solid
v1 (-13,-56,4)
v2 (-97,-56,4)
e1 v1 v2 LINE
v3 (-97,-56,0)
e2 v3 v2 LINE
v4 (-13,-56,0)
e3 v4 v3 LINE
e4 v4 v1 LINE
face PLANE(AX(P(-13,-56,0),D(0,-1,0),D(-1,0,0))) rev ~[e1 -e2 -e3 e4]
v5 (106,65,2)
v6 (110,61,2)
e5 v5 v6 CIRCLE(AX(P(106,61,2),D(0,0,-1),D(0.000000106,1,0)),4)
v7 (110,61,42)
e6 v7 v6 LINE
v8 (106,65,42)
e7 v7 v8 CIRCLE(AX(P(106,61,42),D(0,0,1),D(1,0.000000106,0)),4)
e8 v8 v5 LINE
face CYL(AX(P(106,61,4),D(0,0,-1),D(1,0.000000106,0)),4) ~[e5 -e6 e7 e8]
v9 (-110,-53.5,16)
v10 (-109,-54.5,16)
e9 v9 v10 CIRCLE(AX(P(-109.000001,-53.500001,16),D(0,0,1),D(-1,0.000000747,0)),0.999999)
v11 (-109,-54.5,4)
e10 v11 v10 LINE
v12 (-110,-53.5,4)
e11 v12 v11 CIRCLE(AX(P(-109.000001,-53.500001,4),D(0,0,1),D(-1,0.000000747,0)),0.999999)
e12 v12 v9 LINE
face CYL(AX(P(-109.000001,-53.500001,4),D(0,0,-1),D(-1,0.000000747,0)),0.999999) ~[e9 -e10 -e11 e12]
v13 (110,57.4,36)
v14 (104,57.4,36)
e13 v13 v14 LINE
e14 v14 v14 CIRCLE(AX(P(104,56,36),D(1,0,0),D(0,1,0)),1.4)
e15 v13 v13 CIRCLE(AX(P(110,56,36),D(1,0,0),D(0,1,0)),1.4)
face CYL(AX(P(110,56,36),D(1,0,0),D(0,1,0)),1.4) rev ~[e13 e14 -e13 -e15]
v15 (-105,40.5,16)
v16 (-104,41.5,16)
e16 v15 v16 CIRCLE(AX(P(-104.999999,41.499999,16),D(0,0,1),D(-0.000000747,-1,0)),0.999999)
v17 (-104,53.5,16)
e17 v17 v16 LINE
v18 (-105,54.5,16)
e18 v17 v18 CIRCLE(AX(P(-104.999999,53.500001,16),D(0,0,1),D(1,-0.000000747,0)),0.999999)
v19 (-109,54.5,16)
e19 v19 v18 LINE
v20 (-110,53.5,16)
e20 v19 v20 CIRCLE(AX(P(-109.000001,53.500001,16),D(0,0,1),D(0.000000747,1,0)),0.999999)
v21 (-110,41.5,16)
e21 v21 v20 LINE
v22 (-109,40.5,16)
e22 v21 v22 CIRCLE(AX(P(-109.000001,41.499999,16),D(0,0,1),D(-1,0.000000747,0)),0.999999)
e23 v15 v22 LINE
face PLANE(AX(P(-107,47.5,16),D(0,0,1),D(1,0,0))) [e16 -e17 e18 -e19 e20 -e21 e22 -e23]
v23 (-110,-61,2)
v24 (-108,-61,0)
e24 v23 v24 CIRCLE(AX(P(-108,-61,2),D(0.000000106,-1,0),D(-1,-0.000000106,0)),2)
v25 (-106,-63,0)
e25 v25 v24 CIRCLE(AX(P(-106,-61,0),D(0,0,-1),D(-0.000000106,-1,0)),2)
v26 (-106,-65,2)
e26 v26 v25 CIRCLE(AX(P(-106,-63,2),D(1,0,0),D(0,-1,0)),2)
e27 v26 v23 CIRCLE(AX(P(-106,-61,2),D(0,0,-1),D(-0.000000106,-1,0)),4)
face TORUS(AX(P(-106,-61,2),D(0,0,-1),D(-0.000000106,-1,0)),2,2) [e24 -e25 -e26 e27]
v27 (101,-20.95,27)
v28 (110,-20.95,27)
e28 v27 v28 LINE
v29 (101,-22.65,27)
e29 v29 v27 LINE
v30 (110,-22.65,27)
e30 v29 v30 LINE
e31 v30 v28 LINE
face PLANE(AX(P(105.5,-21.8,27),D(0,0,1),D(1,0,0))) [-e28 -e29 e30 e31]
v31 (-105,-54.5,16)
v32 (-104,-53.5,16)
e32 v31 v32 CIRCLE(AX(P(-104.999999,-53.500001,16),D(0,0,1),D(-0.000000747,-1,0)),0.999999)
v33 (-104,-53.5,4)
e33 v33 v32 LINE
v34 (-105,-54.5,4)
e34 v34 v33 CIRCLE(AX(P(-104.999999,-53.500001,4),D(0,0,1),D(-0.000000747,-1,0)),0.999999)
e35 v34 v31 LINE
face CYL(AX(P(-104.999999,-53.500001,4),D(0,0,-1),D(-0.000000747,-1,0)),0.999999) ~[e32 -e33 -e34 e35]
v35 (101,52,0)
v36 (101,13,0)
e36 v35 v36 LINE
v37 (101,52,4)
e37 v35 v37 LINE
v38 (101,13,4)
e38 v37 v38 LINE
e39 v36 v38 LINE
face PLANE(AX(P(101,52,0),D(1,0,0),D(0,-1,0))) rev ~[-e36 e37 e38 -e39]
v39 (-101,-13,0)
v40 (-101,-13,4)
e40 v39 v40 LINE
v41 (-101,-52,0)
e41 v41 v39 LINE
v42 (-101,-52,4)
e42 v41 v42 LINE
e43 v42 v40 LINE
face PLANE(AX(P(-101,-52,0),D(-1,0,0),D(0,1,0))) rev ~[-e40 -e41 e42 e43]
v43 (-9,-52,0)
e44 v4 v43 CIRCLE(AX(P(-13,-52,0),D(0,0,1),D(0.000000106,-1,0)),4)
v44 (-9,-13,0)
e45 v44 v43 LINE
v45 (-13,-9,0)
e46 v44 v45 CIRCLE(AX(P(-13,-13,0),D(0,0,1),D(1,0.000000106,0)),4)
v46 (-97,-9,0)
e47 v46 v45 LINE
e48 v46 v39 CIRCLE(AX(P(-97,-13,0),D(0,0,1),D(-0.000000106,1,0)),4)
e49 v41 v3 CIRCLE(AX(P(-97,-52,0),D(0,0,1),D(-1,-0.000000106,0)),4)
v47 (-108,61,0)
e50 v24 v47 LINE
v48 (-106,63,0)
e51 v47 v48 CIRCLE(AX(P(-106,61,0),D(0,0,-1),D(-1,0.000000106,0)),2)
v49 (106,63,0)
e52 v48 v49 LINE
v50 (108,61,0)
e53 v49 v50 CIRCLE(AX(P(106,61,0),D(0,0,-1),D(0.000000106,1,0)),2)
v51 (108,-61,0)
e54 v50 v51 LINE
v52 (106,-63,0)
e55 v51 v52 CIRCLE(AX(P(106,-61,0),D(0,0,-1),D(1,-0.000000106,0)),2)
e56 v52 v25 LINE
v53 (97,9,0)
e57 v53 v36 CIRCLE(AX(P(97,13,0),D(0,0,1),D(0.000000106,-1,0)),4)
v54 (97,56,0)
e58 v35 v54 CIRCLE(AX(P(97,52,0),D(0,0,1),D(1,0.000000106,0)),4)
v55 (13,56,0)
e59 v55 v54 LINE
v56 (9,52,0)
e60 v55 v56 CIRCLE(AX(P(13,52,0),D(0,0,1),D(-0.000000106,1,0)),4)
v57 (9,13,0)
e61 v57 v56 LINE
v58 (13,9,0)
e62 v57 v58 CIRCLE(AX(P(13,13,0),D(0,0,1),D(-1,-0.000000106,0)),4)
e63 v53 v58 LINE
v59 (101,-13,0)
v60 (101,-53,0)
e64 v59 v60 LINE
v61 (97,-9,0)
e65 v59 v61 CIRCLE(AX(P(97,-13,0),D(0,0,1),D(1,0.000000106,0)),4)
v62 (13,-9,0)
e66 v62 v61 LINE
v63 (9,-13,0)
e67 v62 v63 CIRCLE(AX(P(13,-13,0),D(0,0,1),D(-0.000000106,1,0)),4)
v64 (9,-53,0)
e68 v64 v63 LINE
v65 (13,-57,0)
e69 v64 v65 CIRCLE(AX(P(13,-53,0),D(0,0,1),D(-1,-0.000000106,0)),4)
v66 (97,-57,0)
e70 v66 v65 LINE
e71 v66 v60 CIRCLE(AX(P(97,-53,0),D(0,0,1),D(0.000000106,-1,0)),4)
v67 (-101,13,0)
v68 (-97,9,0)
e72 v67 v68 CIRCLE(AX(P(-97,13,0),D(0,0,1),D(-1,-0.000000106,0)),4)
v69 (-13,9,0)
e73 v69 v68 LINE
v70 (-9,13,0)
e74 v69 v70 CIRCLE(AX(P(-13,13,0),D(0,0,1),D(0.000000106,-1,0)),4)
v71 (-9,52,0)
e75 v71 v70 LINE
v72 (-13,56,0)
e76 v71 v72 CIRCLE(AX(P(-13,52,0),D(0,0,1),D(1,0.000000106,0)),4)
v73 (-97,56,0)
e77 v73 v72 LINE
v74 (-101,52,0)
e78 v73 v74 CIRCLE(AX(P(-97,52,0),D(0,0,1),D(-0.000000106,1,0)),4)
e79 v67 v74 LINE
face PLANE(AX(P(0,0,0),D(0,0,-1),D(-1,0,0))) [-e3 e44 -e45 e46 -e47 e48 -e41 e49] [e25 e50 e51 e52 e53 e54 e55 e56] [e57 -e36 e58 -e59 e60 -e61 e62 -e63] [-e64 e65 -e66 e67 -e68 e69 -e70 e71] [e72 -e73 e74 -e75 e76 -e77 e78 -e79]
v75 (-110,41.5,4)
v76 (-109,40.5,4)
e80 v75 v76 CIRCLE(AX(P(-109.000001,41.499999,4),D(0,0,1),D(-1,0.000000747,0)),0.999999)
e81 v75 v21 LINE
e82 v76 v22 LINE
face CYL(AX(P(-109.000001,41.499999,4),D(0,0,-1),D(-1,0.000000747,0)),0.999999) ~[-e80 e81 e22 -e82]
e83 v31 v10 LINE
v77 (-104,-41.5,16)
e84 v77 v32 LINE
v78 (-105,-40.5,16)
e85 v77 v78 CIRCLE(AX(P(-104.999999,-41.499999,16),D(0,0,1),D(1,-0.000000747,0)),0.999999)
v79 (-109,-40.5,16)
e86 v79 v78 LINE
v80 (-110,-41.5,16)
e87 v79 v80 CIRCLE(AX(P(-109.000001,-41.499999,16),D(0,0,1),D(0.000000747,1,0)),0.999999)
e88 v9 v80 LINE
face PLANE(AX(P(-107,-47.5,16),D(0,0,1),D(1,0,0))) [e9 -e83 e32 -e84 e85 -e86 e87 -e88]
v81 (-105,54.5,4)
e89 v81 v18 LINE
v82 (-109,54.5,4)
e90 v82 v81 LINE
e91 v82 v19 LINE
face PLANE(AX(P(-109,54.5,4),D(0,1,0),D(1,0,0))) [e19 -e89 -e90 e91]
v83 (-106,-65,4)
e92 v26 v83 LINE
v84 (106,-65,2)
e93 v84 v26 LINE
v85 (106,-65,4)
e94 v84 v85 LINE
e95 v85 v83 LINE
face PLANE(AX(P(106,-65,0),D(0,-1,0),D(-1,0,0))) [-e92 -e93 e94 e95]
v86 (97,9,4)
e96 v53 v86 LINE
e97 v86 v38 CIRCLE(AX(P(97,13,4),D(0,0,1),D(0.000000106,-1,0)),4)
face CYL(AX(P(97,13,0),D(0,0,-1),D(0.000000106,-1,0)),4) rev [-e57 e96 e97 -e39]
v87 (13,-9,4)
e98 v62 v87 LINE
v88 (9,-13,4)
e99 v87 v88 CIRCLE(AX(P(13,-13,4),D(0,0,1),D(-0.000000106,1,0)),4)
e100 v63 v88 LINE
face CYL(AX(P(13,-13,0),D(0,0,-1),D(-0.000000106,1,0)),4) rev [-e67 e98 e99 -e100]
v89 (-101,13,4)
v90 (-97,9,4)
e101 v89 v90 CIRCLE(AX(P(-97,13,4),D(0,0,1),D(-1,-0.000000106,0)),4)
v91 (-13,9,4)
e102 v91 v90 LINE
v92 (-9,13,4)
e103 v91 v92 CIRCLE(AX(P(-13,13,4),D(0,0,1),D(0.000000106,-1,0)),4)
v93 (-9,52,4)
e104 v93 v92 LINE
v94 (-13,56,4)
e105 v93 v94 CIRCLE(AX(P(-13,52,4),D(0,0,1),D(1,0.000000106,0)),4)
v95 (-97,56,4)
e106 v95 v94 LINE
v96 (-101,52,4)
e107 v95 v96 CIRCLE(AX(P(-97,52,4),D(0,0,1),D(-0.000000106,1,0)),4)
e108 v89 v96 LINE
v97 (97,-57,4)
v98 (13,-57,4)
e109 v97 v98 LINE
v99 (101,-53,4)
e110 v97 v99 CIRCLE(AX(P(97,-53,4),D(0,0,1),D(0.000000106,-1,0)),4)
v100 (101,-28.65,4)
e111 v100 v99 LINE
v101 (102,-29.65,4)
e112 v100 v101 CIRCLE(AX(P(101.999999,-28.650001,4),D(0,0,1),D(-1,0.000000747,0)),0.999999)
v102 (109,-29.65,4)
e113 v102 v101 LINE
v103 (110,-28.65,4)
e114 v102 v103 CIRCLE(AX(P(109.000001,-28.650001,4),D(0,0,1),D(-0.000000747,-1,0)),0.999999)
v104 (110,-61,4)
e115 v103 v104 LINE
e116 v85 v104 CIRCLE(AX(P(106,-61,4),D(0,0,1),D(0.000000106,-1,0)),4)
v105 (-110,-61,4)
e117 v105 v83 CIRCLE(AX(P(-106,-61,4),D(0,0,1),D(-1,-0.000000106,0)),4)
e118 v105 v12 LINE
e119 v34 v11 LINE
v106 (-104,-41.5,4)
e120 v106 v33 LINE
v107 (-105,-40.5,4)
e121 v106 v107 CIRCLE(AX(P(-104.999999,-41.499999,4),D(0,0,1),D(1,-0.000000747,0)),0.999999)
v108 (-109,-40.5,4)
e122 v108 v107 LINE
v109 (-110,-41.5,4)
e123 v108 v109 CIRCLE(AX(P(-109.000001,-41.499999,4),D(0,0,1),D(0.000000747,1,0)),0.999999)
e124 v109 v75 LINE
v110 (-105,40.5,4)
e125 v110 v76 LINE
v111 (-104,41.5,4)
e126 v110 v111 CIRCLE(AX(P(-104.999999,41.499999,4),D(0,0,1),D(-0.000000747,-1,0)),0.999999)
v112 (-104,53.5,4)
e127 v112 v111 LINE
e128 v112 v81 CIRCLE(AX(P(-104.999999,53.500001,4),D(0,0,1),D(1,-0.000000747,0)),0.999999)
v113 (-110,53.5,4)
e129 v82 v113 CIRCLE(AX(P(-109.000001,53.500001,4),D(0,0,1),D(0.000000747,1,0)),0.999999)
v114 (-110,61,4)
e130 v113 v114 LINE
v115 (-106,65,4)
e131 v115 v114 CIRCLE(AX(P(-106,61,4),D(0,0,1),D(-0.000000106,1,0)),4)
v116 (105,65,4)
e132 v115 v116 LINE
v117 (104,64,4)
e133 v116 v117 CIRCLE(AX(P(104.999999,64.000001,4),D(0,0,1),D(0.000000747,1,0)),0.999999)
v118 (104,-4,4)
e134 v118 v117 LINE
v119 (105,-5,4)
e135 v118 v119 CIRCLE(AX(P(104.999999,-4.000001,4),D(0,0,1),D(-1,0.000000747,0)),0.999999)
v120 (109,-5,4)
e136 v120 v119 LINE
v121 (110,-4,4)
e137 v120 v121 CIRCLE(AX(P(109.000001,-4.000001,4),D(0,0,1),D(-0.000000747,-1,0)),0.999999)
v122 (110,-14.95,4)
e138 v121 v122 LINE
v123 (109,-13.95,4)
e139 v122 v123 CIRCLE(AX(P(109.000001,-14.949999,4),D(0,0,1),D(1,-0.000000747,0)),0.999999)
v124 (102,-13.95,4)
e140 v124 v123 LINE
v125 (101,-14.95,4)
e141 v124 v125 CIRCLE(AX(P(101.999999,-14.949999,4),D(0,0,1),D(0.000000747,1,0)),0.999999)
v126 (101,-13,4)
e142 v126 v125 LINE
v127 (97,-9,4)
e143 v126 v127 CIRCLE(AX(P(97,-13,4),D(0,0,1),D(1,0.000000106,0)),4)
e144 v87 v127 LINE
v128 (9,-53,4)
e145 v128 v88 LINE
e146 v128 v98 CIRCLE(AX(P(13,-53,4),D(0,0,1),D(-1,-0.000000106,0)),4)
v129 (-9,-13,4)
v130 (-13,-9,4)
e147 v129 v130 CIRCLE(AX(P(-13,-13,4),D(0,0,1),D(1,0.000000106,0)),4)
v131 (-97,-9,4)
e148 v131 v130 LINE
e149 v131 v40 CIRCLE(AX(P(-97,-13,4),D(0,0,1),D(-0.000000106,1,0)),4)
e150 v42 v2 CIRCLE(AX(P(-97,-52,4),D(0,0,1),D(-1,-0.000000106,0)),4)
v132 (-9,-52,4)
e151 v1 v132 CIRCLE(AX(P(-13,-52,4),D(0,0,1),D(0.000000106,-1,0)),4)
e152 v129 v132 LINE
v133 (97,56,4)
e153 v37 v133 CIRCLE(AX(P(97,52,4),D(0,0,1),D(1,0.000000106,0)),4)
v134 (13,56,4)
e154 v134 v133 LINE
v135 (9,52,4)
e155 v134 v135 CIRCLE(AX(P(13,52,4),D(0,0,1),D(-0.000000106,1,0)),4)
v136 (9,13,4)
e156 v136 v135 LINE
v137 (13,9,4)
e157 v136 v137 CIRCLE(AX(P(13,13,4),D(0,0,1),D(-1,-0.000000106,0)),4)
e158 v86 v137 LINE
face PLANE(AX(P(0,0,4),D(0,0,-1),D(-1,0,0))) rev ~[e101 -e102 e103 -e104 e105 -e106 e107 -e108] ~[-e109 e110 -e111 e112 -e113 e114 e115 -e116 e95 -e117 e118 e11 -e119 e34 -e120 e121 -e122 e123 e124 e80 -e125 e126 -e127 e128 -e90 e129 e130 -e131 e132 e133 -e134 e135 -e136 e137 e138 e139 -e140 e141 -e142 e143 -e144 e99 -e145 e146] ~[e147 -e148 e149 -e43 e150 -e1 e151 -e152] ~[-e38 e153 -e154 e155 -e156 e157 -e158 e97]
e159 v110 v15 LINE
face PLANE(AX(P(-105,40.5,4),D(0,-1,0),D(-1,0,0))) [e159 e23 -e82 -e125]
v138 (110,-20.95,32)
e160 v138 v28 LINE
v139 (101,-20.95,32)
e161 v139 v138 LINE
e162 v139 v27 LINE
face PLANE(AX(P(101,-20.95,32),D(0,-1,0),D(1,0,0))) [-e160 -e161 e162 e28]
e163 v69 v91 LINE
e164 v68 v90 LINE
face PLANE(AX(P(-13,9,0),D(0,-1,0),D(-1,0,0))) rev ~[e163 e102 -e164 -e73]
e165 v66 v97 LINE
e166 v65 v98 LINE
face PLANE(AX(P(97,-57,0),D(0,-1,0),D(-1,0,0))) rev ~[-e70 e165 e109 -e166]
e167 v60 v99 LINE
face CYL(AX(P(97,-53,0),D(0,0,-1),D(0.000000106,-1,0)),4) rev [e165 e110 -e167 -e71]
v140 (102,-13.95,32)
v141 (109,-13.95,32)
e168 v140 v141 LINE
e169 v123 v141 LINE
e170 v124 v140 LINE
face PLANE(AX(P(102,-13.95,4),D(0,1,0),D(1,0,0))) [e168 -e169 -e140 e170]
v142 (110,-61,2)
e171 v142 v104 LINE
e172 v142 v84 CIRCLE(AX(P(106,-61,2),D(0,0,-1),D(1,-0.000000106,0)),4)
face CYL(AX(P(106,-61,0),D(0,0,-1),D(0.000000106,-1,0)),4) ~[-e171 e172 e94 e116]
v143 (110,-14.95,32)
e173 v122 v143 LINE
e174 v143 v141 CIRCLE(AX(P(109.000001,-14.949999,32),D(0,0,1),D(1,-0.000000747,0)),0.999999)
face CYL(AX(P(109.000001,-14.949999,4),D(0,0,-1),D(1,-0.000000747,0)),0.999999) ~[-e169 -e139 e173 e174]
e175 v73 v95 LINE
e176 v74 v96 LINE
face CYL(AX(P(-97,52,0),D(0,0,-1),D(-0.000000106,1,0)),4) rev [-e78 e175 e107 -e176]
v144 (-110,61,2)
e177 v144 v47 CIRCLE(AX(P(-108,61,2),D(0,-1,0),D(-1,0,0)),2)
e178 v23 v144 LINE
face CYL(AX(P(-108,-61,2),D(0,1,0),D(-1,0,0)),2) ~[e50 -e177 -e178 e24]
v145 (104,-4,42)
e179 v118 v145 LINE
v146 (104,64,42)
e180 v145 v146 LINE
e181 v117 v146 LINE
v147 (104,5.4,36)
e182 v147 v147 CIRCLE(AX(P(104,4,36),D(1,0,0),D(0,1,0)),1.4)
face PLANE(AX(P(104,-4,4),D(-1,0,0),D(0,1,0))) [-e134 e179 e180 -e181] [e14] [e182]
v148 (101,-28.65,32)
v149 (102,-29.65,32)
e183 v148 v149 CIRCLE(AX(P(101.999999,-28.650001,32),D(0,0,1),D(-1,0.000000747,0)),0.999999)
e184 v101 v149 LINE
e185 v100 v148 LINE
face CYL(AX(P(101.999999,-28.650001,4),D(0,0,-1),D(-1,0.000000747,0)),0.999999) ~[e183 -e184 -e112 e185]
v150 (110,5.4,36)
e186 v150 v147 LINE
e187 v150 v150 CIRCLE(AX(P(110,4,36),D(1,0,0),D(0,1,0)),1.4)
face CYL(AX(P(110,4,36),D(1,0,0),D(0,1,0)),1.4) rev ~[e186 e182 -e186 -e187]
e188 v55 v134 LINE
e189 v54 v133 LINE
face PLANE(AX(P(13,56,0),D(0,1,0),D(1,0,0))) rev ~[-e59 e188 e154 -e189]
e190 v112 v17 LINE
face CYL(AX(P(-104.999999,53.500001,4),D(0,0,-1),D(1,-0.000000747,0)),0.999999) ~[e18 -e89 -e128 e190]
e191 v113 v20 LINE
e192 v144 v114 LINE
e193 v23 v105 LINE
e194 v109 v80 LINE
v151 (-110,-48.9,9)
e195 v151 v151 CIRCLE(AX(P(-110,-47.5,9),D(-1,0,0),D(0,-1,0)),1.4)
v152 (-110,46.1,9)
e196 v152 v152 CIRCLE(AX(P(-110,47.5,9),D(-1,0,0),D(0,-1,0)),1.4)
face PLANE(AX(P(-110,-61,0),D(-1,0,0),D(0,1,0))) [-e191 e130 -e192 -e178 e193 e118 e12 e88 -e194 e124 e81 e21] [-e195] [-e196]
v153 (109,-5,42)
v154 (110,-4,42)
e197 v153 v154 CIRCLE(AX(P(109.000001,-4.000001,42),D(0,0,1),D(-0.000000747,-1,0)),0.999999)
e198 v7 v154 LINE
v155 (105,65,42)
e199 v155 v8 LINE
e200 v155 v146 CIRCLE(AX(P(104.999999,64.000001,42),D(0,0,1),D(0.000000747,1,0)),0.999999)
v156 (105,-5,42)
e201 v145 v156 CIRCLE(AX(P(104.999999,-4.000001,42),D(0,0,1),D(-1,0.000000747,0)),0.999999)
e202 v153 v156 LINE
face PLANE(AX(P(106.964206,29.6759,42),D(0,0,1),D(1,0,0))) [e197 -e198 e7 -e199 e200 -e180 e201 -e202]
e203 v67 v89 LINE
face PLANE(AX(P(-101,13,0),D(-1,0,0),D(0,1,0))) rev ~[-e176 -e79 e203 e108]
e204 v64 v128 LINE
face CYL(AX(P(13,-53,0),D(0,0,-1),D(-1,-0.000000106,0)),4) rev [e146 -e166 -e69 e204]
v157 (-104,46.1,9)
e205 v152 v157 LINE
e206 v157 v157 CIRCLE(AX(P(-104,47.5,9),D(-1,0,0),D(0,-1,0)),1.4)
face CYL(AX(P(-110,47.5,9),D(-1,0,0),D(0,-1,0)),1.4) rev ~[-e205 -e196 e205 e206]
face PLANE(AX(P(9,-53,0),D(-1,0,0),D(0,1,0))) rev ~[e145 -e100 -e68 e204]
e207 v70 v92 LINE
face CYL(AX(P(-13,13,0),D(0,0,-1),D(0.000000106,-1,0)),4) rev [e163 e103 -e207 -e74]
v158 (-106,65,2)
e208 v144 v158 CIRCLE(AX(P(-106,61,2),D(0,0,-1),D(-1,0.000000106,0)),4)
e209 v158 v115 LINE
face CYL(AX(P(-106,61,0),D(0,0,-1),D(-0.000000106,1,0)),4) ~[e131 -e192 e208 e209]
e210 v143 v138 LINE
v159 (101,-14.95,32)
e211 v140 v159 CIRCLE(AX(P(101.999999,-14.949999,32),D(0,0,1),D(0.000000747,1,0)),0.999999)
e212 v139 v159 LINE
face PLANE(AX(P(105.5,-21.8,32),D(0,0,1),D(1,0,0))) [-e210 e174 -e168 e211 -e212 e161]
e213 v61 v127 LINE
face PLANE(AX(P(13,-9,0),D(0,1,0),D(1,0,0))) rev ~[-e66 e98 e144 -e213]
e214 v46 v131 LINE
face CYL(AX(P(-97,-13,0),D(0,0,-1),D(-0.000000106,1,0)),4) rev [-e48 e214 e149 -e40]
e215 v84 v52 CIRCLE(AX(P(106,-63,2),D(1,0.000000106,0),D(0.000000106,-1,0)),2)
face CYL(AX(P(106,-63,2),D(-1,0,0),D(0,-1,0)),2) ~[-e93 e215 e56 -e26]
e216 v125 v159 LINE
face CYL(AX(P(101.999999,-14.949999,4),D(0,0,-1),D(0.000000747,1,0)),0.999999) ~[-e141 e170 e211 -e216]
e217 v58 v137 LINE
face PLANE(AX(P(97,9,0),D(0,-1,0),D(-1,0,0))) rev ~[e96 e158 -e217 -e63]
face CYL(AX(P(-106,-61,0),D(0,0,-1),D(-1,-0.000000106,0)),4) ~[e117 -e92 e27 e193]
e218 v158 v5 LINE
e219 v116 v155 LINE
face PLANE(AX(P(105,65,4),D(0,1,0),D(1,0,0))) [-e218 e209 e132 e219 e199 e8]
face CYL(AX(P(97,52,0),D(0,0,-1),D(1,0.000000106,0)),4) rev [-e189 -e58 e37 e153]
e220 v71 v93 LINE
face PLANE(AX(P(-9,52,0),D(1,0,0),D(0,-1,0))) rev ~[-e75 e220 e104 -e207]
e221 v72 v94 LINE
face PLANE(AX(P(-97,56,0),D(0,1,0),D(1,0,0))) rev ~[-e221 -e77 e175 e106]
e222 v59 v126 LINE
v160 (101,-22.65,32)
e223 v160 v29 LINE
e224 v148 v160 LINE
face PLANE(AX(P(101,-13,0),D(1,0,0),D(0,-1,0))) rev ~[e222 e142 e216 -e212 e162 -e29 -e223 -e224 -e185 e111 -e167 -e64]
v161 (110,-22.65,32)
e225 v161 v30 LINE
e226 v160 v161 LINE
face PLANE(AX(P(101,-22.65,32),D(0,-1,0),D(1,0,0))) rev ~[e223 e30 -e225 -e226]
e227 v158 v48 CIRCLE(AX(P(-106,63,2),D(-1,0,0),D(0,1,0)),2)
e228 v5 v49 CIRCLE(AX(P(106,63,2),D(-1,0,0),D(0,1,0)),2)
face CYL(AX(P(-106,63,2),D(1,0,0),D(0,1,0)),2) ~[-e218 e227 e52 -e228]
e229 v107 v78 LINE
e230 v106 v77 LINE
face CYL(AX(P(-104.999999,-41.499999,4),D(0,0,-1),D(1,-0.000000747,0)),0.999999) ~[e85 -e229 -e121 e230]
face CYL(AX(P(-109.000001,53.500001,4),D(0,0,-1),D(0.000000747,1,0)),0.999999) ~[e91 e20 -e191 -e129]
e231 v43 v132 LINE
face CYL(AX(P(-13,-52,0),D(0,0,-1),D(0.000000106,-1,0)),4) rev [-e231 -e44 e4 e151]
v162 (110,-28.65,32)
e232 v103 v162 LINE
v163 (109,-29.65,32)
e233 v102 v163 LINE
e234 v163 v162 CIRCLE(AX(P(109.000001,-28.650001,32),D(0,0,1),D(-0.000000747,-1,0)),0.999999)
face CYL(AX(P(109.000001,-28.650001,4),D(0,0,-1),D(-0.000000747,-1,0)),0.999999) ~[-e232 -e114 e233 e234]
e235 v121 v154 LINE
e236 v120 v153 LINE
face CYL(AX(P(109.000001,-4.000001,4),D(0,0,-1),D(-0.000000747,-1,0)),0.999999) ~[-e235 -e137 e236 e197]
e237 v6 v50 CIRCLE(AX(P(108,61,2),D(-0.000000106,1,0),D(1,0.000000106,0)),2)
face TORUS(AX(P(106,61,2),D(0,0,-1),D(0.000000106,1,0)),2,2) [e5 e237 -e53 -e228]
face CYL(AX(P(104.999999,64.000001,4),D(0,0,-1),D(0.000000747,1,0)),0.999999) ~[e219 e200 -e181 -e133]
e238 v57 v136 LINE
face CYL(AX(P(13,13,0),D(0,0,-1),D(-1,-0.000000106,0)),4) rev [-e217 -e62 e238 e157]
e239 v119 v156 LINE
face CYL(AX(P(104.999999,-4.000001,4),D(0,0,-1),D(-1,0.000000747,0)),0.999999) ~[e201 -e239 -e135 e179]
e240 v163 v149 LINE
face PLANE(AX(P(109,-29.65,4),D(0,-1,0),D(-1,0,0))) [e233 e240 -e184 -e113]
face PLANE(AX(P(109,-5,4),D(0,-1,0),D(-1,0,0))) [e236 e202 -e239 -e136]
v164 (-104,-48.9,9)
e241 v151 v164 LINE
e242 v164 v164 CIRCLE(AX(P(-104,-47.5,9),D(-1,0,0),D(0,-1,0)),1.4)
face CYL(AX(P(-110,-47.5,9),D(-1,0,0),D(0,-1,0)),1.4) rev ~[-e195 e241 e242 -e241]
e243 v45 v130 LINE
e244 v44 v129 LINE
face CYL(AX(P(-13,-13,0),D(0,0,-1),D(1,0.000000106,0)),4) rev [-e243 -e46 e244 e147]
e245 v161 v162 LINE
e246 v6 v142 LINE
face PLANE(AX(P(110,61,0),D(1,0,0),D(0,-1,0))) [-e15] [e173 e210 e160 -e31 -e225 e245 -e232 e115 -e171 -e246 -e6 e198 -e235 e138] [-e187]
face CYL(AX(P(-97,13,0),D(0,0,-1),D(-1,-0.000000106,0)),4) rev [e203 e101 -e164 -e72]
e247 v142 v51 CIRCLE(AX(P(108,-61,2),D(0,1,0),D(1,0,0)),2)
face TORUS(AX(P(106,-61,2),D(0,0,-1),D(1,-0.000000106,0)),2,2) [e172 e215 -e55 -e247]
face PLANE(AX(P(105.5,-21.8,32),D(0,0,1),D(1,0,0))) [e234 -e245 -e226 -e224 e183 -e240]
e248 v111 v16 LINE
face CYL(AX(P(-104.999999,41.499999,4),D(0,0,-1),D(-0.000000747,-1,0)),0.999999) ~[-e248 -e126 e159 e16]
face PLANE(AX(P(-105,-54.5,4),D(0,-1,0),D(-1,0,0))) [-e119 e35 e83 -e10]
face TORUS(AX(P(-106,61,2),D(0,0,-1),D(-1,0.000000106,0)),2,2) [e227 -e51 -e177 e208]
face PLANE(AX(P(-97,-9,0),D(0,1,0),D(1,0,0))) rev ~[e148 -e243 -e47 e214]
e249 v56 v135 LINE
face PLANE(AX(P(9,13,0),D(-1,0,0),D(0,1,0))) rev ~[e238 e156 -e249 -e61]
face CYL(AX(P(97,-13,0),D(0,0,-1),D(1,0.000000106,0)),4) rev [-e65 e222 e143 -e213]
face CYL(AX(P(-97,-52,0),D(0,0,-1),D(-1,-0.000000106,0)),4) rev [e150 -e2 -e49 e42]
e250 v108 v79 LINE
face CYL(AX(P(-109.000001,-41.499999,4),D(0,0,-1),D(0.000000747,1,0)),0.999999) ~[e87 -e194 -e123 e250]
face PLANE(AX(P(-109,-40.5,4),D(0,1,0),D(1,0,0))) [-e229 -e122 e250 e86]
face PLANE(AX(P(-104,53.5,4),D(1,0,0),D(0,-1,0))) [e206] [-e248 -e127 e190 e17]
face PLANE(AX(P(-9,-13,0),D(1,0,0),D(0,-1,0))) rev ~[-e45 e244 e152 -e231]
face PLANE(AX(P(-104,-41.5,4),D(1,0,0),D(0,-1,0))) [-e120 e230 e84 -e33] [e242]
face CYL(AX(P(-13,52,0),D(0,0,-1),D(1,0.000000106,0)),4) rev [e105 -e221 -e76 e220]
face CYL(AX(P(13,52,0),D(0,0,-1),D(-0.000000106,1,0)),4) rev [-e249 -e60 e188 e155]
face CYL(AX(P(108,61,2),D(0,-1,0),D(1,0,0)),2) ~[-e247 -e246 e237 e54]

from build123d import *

# Parameters (mm, degrees)
PAD_DEPTH       = 4
PAD001_DEPTH    = 38
SKETCH007_R     = 1.4
POCKET_DEPTH    = 8
PAD002_DEPTH    = 12
SKETCH009_R     = 1.4
POCKET001_DEPTH = 8
PAD003_DEPTH    = 28
SKETCH011_W     = 9
SKETCH011_H     = 1.7
POCKET002_DEPTH = 5
FILLET_R        = 2


with BuildPart() as part:
    # Sketch → Pad (new body)
    with BuildSketch(Plane.XY):
        with BuildLine():
            Line((-106, 65), (106, 65))
            ThreePointArc((110, 61), (108.828427, 63.828427), (106, 65))
            Line((110, 61), (110, -61))
            ThreePointArc((106, -65), (108.828427, -63.828427), (110, -61))
            Line((106, -65), (-106, -65))
            ThreePointArc((-110, -61), (-108.828427, -63.828427), (-106, -65))
            Line((-110, -61), (-110, 61))
            ThreePointArc((-106, 65), (-108.828427, 63.828427), (-110, 61))
        make_face()
        with BuildLine():
            ThreePointArc((13, -9), (10.171573, -10.171573), (9, -13))
            Line((9, -53), (9, -13))
            ThreePointArc((9, -53), (10.171573, -55.828427), (13, -57))
            Line((97, -57), (13, -57))
            ThreePointArc((97, -57), (99.828427, -55.828427), (101, -53))
            Line((101, -13), (101, -53))
            ThreePointArc((101, -13), (99.828427, -10.171573), (97, -9))
            Line((13, -9), (97, -9))
        make_face(mode=Mode.SUBTRACT)
        with BuildLine():
            ThreePointArc((13, 56), (10.171573, 54.828427), (9, 52))
            Line((9, 13), (9, 52))
            ThreePointArc((9, 13), (10.171573, 10.171573), (13, 9))
            Line((97, 9), (13, 9))
            ThreePointArc((97, 9), (99.828427, 10.171573), (101, 13))
            Line((101, 52), (101, 13))
            ThreePointArc((101, 52), (99.828427, 54.828427), (97, 56))
            Line((13, 56), (97, 56))
        make_face(mode=Mode.SUBTRACT)
        with BuildLine():
            ThreePointArc((-97, 56), (-99.828427, 54.828427), (-101, 52))
            Line((-101, 13), (-101, 52))
            ThreePointArc((-101, 13), (-99.828427, 10.171573), (-97, 9))
            Line((-13, 9), (-97, 9))
            ThreePointArc((-13, 9), (-10.171573, 10.171573), (-9, 13))
            Line((-9, 52), (-9, 13))
            ThreePointArc((-9, 52), (-10.171573, 54.828427), (-13, 56))
            Line((-97, 56), (-13, 56))
        make_face(mode=Mode.SUBTRACT)
        with BuildLine():
            ThreePointArc((-97, -9), (-99.828427, -10.171573), (-101, -13))
            Line((-101, -52), (-101, -13))
            ThreePointArc((-101, -52), (-99.828427, -54.828427), (-97, -56))
            Line((-13, -56), (-97, -56))
            ThreePointArc((-13, -56), (-10.171573, -54.828427), (-9, -52))
            Line((-9, -13), (-9, -52))
            ThreePointArc((-9, -13), (-10.171573, -10.171573), (-13, -9))
            Line((-97, -9), (-13, -9))
        make_face(mode=Mode.SUBTRACT)
    extrude(amount=PAD_DEPTH)

    # Sketch006 (on Face42 of Pad) → Pad001 (join)
    with BuildSketch(Plane.XY.offset(4)):
        with BuildLine():
            ThreePointArc((105, 65), (104.292893, 64.707107), (104, 64))
            Line((104, -4), (104, 64))
            ThreePointArc((104, -4), (104.292893, -4.707107), (105, -5))
            Line((109, -5), (105, -5))
            ThreePointArc((109, -5), (109.707107, -4.707107), (110, -4))
            Line((110, 61), (110, -4))
            ThreePointArc((110, 61), (108.828427, 63.828427), (106, 65))
            Line((105, 65), (106, 65))
        make_face()
    extrude(amount=PAD001_DEPTH)

    # Sketch007 (on Face50 of Pad001) → Pocket (cut)
    with BuildSketch(Plane.YZ.offset(110)):
        with Locations((56, 36)):
            Circle(SKETCH007_R)
        with Locations((4, 36)):
            Circle(SKETCH007_R)
    extrude(amount=-POCKET_DEPTH, mode=Mode.SUBTRACT)

    # Sketch008 (on Face5 of Pocket) → Pad002 (join)
    with BuildSketch(Plane.XY.offset(4)):
        with BuildLine():
            ThreePointArc((-109, 54.5), (-109.707107, 54.207107), (-110, 53.5))
            Line((-110, 41.5), (-110, 53.5))
            ThreePointArc((-110, 41.5), (-109.707107, 40.792893), (-109, 40.5))
            Line((-105, 40.5), (-109, 40.5))
            ThreePointArc((-105, 40.5), (-104.292893, 40.792893), (-104, 41.5))
            Line((-104, 53.5), (-104, 41.5))
            ThreePointArc((-104, 53.5), (-104.292893, 54.207107), (-105, 54.5))
            Line((-109, 54.5), (-105, 54.5))
        make_face()
        with BuildLine():
            ThreePointArc((-109, -40.5), (-109.707107, -40.792893), (-110, -41.5))
            Line((-110, -53.5), (-110, -41.5))
            ThreePointArc((-110, -53.5), (-109.707107, -54.207107), (-109, -54.5))
            Line((-105, -54.5), (-109, -54.5))
            ThreePointArc((-105, -54.5), (-104.292893, -54.207107), (-104, -53.5))
            Line((-104, -41.5), (-104, -53.5))
            ThreePointArc((-104, -41.5), (-104.292893, -40.792893), (-105, -40.5))
            Line((-109, -40.5), (-105, -40.5))
        make_face()
    extrude(amount=PAD002_DEPTH)

    # Sketch009 (on Face7 of Pad002) → Pocket001 (cut)
    with BuildSketch(Plane(origin=(-110, 0, 0), x_dir=(0, -1, 0), z_dir=(-1, 0, 0))):
        with Locations((-47.5, 9)):
            Circle(SKETCH009_R)
        with Locations((47.5, 9)):
            Circle(SKETCH009_R)
    extrude(amount=-POCKET001_DEPTH, mode=Mode.SUBTRACT)

    # Sketch010 (on Face5 of Pocket001) → Pad003 (join)
    with BuildSketch(Plane.XY.offset(4)):
        with BuildLine():
            ThreePointArc((102, -13.95), (101.292893, -14.242893), (101, -14.95))
            Line((101, -28.65), (101, -14.95))
            ThreePointArc((101, -28.65), (101.292893, -29.357107), (102, -29.65))
            Line((109, -29.65), (102, -29.65))
            ThreePointArc((109, -29.65), (109.707107, -29.357107), (110, -28.65))
            Line((110, -14.95), (110, -28.65))
            ThreePointArc((110, -14.95), (109.707107, -14.242893), (109, -13.95))
            Line((102, -13.95), (109, -13.95))
        make_face()
    extrude(amount=PAD003_DEPTH)

    # Sketch011 (on Face82 of Pad003) → Pocket002 (cut)
    with BuildSketch(Plane.XY.offset(32)):
        with Locations((105.5, -21.8)):
            Rectangle(SKETCH011_W, SKETCH011_H)
    extrude(amount=-POCKET002_DEPTH, mode=Mode.SUBTRACT)

    # Fillet
    fillet_edges = [part.edges().sort_by_distance(p)[0] for p in [
        (0, 65, 0),
    ]]
    fillet(fillet_edges, radius=FILLET_R)


solid = part.part
